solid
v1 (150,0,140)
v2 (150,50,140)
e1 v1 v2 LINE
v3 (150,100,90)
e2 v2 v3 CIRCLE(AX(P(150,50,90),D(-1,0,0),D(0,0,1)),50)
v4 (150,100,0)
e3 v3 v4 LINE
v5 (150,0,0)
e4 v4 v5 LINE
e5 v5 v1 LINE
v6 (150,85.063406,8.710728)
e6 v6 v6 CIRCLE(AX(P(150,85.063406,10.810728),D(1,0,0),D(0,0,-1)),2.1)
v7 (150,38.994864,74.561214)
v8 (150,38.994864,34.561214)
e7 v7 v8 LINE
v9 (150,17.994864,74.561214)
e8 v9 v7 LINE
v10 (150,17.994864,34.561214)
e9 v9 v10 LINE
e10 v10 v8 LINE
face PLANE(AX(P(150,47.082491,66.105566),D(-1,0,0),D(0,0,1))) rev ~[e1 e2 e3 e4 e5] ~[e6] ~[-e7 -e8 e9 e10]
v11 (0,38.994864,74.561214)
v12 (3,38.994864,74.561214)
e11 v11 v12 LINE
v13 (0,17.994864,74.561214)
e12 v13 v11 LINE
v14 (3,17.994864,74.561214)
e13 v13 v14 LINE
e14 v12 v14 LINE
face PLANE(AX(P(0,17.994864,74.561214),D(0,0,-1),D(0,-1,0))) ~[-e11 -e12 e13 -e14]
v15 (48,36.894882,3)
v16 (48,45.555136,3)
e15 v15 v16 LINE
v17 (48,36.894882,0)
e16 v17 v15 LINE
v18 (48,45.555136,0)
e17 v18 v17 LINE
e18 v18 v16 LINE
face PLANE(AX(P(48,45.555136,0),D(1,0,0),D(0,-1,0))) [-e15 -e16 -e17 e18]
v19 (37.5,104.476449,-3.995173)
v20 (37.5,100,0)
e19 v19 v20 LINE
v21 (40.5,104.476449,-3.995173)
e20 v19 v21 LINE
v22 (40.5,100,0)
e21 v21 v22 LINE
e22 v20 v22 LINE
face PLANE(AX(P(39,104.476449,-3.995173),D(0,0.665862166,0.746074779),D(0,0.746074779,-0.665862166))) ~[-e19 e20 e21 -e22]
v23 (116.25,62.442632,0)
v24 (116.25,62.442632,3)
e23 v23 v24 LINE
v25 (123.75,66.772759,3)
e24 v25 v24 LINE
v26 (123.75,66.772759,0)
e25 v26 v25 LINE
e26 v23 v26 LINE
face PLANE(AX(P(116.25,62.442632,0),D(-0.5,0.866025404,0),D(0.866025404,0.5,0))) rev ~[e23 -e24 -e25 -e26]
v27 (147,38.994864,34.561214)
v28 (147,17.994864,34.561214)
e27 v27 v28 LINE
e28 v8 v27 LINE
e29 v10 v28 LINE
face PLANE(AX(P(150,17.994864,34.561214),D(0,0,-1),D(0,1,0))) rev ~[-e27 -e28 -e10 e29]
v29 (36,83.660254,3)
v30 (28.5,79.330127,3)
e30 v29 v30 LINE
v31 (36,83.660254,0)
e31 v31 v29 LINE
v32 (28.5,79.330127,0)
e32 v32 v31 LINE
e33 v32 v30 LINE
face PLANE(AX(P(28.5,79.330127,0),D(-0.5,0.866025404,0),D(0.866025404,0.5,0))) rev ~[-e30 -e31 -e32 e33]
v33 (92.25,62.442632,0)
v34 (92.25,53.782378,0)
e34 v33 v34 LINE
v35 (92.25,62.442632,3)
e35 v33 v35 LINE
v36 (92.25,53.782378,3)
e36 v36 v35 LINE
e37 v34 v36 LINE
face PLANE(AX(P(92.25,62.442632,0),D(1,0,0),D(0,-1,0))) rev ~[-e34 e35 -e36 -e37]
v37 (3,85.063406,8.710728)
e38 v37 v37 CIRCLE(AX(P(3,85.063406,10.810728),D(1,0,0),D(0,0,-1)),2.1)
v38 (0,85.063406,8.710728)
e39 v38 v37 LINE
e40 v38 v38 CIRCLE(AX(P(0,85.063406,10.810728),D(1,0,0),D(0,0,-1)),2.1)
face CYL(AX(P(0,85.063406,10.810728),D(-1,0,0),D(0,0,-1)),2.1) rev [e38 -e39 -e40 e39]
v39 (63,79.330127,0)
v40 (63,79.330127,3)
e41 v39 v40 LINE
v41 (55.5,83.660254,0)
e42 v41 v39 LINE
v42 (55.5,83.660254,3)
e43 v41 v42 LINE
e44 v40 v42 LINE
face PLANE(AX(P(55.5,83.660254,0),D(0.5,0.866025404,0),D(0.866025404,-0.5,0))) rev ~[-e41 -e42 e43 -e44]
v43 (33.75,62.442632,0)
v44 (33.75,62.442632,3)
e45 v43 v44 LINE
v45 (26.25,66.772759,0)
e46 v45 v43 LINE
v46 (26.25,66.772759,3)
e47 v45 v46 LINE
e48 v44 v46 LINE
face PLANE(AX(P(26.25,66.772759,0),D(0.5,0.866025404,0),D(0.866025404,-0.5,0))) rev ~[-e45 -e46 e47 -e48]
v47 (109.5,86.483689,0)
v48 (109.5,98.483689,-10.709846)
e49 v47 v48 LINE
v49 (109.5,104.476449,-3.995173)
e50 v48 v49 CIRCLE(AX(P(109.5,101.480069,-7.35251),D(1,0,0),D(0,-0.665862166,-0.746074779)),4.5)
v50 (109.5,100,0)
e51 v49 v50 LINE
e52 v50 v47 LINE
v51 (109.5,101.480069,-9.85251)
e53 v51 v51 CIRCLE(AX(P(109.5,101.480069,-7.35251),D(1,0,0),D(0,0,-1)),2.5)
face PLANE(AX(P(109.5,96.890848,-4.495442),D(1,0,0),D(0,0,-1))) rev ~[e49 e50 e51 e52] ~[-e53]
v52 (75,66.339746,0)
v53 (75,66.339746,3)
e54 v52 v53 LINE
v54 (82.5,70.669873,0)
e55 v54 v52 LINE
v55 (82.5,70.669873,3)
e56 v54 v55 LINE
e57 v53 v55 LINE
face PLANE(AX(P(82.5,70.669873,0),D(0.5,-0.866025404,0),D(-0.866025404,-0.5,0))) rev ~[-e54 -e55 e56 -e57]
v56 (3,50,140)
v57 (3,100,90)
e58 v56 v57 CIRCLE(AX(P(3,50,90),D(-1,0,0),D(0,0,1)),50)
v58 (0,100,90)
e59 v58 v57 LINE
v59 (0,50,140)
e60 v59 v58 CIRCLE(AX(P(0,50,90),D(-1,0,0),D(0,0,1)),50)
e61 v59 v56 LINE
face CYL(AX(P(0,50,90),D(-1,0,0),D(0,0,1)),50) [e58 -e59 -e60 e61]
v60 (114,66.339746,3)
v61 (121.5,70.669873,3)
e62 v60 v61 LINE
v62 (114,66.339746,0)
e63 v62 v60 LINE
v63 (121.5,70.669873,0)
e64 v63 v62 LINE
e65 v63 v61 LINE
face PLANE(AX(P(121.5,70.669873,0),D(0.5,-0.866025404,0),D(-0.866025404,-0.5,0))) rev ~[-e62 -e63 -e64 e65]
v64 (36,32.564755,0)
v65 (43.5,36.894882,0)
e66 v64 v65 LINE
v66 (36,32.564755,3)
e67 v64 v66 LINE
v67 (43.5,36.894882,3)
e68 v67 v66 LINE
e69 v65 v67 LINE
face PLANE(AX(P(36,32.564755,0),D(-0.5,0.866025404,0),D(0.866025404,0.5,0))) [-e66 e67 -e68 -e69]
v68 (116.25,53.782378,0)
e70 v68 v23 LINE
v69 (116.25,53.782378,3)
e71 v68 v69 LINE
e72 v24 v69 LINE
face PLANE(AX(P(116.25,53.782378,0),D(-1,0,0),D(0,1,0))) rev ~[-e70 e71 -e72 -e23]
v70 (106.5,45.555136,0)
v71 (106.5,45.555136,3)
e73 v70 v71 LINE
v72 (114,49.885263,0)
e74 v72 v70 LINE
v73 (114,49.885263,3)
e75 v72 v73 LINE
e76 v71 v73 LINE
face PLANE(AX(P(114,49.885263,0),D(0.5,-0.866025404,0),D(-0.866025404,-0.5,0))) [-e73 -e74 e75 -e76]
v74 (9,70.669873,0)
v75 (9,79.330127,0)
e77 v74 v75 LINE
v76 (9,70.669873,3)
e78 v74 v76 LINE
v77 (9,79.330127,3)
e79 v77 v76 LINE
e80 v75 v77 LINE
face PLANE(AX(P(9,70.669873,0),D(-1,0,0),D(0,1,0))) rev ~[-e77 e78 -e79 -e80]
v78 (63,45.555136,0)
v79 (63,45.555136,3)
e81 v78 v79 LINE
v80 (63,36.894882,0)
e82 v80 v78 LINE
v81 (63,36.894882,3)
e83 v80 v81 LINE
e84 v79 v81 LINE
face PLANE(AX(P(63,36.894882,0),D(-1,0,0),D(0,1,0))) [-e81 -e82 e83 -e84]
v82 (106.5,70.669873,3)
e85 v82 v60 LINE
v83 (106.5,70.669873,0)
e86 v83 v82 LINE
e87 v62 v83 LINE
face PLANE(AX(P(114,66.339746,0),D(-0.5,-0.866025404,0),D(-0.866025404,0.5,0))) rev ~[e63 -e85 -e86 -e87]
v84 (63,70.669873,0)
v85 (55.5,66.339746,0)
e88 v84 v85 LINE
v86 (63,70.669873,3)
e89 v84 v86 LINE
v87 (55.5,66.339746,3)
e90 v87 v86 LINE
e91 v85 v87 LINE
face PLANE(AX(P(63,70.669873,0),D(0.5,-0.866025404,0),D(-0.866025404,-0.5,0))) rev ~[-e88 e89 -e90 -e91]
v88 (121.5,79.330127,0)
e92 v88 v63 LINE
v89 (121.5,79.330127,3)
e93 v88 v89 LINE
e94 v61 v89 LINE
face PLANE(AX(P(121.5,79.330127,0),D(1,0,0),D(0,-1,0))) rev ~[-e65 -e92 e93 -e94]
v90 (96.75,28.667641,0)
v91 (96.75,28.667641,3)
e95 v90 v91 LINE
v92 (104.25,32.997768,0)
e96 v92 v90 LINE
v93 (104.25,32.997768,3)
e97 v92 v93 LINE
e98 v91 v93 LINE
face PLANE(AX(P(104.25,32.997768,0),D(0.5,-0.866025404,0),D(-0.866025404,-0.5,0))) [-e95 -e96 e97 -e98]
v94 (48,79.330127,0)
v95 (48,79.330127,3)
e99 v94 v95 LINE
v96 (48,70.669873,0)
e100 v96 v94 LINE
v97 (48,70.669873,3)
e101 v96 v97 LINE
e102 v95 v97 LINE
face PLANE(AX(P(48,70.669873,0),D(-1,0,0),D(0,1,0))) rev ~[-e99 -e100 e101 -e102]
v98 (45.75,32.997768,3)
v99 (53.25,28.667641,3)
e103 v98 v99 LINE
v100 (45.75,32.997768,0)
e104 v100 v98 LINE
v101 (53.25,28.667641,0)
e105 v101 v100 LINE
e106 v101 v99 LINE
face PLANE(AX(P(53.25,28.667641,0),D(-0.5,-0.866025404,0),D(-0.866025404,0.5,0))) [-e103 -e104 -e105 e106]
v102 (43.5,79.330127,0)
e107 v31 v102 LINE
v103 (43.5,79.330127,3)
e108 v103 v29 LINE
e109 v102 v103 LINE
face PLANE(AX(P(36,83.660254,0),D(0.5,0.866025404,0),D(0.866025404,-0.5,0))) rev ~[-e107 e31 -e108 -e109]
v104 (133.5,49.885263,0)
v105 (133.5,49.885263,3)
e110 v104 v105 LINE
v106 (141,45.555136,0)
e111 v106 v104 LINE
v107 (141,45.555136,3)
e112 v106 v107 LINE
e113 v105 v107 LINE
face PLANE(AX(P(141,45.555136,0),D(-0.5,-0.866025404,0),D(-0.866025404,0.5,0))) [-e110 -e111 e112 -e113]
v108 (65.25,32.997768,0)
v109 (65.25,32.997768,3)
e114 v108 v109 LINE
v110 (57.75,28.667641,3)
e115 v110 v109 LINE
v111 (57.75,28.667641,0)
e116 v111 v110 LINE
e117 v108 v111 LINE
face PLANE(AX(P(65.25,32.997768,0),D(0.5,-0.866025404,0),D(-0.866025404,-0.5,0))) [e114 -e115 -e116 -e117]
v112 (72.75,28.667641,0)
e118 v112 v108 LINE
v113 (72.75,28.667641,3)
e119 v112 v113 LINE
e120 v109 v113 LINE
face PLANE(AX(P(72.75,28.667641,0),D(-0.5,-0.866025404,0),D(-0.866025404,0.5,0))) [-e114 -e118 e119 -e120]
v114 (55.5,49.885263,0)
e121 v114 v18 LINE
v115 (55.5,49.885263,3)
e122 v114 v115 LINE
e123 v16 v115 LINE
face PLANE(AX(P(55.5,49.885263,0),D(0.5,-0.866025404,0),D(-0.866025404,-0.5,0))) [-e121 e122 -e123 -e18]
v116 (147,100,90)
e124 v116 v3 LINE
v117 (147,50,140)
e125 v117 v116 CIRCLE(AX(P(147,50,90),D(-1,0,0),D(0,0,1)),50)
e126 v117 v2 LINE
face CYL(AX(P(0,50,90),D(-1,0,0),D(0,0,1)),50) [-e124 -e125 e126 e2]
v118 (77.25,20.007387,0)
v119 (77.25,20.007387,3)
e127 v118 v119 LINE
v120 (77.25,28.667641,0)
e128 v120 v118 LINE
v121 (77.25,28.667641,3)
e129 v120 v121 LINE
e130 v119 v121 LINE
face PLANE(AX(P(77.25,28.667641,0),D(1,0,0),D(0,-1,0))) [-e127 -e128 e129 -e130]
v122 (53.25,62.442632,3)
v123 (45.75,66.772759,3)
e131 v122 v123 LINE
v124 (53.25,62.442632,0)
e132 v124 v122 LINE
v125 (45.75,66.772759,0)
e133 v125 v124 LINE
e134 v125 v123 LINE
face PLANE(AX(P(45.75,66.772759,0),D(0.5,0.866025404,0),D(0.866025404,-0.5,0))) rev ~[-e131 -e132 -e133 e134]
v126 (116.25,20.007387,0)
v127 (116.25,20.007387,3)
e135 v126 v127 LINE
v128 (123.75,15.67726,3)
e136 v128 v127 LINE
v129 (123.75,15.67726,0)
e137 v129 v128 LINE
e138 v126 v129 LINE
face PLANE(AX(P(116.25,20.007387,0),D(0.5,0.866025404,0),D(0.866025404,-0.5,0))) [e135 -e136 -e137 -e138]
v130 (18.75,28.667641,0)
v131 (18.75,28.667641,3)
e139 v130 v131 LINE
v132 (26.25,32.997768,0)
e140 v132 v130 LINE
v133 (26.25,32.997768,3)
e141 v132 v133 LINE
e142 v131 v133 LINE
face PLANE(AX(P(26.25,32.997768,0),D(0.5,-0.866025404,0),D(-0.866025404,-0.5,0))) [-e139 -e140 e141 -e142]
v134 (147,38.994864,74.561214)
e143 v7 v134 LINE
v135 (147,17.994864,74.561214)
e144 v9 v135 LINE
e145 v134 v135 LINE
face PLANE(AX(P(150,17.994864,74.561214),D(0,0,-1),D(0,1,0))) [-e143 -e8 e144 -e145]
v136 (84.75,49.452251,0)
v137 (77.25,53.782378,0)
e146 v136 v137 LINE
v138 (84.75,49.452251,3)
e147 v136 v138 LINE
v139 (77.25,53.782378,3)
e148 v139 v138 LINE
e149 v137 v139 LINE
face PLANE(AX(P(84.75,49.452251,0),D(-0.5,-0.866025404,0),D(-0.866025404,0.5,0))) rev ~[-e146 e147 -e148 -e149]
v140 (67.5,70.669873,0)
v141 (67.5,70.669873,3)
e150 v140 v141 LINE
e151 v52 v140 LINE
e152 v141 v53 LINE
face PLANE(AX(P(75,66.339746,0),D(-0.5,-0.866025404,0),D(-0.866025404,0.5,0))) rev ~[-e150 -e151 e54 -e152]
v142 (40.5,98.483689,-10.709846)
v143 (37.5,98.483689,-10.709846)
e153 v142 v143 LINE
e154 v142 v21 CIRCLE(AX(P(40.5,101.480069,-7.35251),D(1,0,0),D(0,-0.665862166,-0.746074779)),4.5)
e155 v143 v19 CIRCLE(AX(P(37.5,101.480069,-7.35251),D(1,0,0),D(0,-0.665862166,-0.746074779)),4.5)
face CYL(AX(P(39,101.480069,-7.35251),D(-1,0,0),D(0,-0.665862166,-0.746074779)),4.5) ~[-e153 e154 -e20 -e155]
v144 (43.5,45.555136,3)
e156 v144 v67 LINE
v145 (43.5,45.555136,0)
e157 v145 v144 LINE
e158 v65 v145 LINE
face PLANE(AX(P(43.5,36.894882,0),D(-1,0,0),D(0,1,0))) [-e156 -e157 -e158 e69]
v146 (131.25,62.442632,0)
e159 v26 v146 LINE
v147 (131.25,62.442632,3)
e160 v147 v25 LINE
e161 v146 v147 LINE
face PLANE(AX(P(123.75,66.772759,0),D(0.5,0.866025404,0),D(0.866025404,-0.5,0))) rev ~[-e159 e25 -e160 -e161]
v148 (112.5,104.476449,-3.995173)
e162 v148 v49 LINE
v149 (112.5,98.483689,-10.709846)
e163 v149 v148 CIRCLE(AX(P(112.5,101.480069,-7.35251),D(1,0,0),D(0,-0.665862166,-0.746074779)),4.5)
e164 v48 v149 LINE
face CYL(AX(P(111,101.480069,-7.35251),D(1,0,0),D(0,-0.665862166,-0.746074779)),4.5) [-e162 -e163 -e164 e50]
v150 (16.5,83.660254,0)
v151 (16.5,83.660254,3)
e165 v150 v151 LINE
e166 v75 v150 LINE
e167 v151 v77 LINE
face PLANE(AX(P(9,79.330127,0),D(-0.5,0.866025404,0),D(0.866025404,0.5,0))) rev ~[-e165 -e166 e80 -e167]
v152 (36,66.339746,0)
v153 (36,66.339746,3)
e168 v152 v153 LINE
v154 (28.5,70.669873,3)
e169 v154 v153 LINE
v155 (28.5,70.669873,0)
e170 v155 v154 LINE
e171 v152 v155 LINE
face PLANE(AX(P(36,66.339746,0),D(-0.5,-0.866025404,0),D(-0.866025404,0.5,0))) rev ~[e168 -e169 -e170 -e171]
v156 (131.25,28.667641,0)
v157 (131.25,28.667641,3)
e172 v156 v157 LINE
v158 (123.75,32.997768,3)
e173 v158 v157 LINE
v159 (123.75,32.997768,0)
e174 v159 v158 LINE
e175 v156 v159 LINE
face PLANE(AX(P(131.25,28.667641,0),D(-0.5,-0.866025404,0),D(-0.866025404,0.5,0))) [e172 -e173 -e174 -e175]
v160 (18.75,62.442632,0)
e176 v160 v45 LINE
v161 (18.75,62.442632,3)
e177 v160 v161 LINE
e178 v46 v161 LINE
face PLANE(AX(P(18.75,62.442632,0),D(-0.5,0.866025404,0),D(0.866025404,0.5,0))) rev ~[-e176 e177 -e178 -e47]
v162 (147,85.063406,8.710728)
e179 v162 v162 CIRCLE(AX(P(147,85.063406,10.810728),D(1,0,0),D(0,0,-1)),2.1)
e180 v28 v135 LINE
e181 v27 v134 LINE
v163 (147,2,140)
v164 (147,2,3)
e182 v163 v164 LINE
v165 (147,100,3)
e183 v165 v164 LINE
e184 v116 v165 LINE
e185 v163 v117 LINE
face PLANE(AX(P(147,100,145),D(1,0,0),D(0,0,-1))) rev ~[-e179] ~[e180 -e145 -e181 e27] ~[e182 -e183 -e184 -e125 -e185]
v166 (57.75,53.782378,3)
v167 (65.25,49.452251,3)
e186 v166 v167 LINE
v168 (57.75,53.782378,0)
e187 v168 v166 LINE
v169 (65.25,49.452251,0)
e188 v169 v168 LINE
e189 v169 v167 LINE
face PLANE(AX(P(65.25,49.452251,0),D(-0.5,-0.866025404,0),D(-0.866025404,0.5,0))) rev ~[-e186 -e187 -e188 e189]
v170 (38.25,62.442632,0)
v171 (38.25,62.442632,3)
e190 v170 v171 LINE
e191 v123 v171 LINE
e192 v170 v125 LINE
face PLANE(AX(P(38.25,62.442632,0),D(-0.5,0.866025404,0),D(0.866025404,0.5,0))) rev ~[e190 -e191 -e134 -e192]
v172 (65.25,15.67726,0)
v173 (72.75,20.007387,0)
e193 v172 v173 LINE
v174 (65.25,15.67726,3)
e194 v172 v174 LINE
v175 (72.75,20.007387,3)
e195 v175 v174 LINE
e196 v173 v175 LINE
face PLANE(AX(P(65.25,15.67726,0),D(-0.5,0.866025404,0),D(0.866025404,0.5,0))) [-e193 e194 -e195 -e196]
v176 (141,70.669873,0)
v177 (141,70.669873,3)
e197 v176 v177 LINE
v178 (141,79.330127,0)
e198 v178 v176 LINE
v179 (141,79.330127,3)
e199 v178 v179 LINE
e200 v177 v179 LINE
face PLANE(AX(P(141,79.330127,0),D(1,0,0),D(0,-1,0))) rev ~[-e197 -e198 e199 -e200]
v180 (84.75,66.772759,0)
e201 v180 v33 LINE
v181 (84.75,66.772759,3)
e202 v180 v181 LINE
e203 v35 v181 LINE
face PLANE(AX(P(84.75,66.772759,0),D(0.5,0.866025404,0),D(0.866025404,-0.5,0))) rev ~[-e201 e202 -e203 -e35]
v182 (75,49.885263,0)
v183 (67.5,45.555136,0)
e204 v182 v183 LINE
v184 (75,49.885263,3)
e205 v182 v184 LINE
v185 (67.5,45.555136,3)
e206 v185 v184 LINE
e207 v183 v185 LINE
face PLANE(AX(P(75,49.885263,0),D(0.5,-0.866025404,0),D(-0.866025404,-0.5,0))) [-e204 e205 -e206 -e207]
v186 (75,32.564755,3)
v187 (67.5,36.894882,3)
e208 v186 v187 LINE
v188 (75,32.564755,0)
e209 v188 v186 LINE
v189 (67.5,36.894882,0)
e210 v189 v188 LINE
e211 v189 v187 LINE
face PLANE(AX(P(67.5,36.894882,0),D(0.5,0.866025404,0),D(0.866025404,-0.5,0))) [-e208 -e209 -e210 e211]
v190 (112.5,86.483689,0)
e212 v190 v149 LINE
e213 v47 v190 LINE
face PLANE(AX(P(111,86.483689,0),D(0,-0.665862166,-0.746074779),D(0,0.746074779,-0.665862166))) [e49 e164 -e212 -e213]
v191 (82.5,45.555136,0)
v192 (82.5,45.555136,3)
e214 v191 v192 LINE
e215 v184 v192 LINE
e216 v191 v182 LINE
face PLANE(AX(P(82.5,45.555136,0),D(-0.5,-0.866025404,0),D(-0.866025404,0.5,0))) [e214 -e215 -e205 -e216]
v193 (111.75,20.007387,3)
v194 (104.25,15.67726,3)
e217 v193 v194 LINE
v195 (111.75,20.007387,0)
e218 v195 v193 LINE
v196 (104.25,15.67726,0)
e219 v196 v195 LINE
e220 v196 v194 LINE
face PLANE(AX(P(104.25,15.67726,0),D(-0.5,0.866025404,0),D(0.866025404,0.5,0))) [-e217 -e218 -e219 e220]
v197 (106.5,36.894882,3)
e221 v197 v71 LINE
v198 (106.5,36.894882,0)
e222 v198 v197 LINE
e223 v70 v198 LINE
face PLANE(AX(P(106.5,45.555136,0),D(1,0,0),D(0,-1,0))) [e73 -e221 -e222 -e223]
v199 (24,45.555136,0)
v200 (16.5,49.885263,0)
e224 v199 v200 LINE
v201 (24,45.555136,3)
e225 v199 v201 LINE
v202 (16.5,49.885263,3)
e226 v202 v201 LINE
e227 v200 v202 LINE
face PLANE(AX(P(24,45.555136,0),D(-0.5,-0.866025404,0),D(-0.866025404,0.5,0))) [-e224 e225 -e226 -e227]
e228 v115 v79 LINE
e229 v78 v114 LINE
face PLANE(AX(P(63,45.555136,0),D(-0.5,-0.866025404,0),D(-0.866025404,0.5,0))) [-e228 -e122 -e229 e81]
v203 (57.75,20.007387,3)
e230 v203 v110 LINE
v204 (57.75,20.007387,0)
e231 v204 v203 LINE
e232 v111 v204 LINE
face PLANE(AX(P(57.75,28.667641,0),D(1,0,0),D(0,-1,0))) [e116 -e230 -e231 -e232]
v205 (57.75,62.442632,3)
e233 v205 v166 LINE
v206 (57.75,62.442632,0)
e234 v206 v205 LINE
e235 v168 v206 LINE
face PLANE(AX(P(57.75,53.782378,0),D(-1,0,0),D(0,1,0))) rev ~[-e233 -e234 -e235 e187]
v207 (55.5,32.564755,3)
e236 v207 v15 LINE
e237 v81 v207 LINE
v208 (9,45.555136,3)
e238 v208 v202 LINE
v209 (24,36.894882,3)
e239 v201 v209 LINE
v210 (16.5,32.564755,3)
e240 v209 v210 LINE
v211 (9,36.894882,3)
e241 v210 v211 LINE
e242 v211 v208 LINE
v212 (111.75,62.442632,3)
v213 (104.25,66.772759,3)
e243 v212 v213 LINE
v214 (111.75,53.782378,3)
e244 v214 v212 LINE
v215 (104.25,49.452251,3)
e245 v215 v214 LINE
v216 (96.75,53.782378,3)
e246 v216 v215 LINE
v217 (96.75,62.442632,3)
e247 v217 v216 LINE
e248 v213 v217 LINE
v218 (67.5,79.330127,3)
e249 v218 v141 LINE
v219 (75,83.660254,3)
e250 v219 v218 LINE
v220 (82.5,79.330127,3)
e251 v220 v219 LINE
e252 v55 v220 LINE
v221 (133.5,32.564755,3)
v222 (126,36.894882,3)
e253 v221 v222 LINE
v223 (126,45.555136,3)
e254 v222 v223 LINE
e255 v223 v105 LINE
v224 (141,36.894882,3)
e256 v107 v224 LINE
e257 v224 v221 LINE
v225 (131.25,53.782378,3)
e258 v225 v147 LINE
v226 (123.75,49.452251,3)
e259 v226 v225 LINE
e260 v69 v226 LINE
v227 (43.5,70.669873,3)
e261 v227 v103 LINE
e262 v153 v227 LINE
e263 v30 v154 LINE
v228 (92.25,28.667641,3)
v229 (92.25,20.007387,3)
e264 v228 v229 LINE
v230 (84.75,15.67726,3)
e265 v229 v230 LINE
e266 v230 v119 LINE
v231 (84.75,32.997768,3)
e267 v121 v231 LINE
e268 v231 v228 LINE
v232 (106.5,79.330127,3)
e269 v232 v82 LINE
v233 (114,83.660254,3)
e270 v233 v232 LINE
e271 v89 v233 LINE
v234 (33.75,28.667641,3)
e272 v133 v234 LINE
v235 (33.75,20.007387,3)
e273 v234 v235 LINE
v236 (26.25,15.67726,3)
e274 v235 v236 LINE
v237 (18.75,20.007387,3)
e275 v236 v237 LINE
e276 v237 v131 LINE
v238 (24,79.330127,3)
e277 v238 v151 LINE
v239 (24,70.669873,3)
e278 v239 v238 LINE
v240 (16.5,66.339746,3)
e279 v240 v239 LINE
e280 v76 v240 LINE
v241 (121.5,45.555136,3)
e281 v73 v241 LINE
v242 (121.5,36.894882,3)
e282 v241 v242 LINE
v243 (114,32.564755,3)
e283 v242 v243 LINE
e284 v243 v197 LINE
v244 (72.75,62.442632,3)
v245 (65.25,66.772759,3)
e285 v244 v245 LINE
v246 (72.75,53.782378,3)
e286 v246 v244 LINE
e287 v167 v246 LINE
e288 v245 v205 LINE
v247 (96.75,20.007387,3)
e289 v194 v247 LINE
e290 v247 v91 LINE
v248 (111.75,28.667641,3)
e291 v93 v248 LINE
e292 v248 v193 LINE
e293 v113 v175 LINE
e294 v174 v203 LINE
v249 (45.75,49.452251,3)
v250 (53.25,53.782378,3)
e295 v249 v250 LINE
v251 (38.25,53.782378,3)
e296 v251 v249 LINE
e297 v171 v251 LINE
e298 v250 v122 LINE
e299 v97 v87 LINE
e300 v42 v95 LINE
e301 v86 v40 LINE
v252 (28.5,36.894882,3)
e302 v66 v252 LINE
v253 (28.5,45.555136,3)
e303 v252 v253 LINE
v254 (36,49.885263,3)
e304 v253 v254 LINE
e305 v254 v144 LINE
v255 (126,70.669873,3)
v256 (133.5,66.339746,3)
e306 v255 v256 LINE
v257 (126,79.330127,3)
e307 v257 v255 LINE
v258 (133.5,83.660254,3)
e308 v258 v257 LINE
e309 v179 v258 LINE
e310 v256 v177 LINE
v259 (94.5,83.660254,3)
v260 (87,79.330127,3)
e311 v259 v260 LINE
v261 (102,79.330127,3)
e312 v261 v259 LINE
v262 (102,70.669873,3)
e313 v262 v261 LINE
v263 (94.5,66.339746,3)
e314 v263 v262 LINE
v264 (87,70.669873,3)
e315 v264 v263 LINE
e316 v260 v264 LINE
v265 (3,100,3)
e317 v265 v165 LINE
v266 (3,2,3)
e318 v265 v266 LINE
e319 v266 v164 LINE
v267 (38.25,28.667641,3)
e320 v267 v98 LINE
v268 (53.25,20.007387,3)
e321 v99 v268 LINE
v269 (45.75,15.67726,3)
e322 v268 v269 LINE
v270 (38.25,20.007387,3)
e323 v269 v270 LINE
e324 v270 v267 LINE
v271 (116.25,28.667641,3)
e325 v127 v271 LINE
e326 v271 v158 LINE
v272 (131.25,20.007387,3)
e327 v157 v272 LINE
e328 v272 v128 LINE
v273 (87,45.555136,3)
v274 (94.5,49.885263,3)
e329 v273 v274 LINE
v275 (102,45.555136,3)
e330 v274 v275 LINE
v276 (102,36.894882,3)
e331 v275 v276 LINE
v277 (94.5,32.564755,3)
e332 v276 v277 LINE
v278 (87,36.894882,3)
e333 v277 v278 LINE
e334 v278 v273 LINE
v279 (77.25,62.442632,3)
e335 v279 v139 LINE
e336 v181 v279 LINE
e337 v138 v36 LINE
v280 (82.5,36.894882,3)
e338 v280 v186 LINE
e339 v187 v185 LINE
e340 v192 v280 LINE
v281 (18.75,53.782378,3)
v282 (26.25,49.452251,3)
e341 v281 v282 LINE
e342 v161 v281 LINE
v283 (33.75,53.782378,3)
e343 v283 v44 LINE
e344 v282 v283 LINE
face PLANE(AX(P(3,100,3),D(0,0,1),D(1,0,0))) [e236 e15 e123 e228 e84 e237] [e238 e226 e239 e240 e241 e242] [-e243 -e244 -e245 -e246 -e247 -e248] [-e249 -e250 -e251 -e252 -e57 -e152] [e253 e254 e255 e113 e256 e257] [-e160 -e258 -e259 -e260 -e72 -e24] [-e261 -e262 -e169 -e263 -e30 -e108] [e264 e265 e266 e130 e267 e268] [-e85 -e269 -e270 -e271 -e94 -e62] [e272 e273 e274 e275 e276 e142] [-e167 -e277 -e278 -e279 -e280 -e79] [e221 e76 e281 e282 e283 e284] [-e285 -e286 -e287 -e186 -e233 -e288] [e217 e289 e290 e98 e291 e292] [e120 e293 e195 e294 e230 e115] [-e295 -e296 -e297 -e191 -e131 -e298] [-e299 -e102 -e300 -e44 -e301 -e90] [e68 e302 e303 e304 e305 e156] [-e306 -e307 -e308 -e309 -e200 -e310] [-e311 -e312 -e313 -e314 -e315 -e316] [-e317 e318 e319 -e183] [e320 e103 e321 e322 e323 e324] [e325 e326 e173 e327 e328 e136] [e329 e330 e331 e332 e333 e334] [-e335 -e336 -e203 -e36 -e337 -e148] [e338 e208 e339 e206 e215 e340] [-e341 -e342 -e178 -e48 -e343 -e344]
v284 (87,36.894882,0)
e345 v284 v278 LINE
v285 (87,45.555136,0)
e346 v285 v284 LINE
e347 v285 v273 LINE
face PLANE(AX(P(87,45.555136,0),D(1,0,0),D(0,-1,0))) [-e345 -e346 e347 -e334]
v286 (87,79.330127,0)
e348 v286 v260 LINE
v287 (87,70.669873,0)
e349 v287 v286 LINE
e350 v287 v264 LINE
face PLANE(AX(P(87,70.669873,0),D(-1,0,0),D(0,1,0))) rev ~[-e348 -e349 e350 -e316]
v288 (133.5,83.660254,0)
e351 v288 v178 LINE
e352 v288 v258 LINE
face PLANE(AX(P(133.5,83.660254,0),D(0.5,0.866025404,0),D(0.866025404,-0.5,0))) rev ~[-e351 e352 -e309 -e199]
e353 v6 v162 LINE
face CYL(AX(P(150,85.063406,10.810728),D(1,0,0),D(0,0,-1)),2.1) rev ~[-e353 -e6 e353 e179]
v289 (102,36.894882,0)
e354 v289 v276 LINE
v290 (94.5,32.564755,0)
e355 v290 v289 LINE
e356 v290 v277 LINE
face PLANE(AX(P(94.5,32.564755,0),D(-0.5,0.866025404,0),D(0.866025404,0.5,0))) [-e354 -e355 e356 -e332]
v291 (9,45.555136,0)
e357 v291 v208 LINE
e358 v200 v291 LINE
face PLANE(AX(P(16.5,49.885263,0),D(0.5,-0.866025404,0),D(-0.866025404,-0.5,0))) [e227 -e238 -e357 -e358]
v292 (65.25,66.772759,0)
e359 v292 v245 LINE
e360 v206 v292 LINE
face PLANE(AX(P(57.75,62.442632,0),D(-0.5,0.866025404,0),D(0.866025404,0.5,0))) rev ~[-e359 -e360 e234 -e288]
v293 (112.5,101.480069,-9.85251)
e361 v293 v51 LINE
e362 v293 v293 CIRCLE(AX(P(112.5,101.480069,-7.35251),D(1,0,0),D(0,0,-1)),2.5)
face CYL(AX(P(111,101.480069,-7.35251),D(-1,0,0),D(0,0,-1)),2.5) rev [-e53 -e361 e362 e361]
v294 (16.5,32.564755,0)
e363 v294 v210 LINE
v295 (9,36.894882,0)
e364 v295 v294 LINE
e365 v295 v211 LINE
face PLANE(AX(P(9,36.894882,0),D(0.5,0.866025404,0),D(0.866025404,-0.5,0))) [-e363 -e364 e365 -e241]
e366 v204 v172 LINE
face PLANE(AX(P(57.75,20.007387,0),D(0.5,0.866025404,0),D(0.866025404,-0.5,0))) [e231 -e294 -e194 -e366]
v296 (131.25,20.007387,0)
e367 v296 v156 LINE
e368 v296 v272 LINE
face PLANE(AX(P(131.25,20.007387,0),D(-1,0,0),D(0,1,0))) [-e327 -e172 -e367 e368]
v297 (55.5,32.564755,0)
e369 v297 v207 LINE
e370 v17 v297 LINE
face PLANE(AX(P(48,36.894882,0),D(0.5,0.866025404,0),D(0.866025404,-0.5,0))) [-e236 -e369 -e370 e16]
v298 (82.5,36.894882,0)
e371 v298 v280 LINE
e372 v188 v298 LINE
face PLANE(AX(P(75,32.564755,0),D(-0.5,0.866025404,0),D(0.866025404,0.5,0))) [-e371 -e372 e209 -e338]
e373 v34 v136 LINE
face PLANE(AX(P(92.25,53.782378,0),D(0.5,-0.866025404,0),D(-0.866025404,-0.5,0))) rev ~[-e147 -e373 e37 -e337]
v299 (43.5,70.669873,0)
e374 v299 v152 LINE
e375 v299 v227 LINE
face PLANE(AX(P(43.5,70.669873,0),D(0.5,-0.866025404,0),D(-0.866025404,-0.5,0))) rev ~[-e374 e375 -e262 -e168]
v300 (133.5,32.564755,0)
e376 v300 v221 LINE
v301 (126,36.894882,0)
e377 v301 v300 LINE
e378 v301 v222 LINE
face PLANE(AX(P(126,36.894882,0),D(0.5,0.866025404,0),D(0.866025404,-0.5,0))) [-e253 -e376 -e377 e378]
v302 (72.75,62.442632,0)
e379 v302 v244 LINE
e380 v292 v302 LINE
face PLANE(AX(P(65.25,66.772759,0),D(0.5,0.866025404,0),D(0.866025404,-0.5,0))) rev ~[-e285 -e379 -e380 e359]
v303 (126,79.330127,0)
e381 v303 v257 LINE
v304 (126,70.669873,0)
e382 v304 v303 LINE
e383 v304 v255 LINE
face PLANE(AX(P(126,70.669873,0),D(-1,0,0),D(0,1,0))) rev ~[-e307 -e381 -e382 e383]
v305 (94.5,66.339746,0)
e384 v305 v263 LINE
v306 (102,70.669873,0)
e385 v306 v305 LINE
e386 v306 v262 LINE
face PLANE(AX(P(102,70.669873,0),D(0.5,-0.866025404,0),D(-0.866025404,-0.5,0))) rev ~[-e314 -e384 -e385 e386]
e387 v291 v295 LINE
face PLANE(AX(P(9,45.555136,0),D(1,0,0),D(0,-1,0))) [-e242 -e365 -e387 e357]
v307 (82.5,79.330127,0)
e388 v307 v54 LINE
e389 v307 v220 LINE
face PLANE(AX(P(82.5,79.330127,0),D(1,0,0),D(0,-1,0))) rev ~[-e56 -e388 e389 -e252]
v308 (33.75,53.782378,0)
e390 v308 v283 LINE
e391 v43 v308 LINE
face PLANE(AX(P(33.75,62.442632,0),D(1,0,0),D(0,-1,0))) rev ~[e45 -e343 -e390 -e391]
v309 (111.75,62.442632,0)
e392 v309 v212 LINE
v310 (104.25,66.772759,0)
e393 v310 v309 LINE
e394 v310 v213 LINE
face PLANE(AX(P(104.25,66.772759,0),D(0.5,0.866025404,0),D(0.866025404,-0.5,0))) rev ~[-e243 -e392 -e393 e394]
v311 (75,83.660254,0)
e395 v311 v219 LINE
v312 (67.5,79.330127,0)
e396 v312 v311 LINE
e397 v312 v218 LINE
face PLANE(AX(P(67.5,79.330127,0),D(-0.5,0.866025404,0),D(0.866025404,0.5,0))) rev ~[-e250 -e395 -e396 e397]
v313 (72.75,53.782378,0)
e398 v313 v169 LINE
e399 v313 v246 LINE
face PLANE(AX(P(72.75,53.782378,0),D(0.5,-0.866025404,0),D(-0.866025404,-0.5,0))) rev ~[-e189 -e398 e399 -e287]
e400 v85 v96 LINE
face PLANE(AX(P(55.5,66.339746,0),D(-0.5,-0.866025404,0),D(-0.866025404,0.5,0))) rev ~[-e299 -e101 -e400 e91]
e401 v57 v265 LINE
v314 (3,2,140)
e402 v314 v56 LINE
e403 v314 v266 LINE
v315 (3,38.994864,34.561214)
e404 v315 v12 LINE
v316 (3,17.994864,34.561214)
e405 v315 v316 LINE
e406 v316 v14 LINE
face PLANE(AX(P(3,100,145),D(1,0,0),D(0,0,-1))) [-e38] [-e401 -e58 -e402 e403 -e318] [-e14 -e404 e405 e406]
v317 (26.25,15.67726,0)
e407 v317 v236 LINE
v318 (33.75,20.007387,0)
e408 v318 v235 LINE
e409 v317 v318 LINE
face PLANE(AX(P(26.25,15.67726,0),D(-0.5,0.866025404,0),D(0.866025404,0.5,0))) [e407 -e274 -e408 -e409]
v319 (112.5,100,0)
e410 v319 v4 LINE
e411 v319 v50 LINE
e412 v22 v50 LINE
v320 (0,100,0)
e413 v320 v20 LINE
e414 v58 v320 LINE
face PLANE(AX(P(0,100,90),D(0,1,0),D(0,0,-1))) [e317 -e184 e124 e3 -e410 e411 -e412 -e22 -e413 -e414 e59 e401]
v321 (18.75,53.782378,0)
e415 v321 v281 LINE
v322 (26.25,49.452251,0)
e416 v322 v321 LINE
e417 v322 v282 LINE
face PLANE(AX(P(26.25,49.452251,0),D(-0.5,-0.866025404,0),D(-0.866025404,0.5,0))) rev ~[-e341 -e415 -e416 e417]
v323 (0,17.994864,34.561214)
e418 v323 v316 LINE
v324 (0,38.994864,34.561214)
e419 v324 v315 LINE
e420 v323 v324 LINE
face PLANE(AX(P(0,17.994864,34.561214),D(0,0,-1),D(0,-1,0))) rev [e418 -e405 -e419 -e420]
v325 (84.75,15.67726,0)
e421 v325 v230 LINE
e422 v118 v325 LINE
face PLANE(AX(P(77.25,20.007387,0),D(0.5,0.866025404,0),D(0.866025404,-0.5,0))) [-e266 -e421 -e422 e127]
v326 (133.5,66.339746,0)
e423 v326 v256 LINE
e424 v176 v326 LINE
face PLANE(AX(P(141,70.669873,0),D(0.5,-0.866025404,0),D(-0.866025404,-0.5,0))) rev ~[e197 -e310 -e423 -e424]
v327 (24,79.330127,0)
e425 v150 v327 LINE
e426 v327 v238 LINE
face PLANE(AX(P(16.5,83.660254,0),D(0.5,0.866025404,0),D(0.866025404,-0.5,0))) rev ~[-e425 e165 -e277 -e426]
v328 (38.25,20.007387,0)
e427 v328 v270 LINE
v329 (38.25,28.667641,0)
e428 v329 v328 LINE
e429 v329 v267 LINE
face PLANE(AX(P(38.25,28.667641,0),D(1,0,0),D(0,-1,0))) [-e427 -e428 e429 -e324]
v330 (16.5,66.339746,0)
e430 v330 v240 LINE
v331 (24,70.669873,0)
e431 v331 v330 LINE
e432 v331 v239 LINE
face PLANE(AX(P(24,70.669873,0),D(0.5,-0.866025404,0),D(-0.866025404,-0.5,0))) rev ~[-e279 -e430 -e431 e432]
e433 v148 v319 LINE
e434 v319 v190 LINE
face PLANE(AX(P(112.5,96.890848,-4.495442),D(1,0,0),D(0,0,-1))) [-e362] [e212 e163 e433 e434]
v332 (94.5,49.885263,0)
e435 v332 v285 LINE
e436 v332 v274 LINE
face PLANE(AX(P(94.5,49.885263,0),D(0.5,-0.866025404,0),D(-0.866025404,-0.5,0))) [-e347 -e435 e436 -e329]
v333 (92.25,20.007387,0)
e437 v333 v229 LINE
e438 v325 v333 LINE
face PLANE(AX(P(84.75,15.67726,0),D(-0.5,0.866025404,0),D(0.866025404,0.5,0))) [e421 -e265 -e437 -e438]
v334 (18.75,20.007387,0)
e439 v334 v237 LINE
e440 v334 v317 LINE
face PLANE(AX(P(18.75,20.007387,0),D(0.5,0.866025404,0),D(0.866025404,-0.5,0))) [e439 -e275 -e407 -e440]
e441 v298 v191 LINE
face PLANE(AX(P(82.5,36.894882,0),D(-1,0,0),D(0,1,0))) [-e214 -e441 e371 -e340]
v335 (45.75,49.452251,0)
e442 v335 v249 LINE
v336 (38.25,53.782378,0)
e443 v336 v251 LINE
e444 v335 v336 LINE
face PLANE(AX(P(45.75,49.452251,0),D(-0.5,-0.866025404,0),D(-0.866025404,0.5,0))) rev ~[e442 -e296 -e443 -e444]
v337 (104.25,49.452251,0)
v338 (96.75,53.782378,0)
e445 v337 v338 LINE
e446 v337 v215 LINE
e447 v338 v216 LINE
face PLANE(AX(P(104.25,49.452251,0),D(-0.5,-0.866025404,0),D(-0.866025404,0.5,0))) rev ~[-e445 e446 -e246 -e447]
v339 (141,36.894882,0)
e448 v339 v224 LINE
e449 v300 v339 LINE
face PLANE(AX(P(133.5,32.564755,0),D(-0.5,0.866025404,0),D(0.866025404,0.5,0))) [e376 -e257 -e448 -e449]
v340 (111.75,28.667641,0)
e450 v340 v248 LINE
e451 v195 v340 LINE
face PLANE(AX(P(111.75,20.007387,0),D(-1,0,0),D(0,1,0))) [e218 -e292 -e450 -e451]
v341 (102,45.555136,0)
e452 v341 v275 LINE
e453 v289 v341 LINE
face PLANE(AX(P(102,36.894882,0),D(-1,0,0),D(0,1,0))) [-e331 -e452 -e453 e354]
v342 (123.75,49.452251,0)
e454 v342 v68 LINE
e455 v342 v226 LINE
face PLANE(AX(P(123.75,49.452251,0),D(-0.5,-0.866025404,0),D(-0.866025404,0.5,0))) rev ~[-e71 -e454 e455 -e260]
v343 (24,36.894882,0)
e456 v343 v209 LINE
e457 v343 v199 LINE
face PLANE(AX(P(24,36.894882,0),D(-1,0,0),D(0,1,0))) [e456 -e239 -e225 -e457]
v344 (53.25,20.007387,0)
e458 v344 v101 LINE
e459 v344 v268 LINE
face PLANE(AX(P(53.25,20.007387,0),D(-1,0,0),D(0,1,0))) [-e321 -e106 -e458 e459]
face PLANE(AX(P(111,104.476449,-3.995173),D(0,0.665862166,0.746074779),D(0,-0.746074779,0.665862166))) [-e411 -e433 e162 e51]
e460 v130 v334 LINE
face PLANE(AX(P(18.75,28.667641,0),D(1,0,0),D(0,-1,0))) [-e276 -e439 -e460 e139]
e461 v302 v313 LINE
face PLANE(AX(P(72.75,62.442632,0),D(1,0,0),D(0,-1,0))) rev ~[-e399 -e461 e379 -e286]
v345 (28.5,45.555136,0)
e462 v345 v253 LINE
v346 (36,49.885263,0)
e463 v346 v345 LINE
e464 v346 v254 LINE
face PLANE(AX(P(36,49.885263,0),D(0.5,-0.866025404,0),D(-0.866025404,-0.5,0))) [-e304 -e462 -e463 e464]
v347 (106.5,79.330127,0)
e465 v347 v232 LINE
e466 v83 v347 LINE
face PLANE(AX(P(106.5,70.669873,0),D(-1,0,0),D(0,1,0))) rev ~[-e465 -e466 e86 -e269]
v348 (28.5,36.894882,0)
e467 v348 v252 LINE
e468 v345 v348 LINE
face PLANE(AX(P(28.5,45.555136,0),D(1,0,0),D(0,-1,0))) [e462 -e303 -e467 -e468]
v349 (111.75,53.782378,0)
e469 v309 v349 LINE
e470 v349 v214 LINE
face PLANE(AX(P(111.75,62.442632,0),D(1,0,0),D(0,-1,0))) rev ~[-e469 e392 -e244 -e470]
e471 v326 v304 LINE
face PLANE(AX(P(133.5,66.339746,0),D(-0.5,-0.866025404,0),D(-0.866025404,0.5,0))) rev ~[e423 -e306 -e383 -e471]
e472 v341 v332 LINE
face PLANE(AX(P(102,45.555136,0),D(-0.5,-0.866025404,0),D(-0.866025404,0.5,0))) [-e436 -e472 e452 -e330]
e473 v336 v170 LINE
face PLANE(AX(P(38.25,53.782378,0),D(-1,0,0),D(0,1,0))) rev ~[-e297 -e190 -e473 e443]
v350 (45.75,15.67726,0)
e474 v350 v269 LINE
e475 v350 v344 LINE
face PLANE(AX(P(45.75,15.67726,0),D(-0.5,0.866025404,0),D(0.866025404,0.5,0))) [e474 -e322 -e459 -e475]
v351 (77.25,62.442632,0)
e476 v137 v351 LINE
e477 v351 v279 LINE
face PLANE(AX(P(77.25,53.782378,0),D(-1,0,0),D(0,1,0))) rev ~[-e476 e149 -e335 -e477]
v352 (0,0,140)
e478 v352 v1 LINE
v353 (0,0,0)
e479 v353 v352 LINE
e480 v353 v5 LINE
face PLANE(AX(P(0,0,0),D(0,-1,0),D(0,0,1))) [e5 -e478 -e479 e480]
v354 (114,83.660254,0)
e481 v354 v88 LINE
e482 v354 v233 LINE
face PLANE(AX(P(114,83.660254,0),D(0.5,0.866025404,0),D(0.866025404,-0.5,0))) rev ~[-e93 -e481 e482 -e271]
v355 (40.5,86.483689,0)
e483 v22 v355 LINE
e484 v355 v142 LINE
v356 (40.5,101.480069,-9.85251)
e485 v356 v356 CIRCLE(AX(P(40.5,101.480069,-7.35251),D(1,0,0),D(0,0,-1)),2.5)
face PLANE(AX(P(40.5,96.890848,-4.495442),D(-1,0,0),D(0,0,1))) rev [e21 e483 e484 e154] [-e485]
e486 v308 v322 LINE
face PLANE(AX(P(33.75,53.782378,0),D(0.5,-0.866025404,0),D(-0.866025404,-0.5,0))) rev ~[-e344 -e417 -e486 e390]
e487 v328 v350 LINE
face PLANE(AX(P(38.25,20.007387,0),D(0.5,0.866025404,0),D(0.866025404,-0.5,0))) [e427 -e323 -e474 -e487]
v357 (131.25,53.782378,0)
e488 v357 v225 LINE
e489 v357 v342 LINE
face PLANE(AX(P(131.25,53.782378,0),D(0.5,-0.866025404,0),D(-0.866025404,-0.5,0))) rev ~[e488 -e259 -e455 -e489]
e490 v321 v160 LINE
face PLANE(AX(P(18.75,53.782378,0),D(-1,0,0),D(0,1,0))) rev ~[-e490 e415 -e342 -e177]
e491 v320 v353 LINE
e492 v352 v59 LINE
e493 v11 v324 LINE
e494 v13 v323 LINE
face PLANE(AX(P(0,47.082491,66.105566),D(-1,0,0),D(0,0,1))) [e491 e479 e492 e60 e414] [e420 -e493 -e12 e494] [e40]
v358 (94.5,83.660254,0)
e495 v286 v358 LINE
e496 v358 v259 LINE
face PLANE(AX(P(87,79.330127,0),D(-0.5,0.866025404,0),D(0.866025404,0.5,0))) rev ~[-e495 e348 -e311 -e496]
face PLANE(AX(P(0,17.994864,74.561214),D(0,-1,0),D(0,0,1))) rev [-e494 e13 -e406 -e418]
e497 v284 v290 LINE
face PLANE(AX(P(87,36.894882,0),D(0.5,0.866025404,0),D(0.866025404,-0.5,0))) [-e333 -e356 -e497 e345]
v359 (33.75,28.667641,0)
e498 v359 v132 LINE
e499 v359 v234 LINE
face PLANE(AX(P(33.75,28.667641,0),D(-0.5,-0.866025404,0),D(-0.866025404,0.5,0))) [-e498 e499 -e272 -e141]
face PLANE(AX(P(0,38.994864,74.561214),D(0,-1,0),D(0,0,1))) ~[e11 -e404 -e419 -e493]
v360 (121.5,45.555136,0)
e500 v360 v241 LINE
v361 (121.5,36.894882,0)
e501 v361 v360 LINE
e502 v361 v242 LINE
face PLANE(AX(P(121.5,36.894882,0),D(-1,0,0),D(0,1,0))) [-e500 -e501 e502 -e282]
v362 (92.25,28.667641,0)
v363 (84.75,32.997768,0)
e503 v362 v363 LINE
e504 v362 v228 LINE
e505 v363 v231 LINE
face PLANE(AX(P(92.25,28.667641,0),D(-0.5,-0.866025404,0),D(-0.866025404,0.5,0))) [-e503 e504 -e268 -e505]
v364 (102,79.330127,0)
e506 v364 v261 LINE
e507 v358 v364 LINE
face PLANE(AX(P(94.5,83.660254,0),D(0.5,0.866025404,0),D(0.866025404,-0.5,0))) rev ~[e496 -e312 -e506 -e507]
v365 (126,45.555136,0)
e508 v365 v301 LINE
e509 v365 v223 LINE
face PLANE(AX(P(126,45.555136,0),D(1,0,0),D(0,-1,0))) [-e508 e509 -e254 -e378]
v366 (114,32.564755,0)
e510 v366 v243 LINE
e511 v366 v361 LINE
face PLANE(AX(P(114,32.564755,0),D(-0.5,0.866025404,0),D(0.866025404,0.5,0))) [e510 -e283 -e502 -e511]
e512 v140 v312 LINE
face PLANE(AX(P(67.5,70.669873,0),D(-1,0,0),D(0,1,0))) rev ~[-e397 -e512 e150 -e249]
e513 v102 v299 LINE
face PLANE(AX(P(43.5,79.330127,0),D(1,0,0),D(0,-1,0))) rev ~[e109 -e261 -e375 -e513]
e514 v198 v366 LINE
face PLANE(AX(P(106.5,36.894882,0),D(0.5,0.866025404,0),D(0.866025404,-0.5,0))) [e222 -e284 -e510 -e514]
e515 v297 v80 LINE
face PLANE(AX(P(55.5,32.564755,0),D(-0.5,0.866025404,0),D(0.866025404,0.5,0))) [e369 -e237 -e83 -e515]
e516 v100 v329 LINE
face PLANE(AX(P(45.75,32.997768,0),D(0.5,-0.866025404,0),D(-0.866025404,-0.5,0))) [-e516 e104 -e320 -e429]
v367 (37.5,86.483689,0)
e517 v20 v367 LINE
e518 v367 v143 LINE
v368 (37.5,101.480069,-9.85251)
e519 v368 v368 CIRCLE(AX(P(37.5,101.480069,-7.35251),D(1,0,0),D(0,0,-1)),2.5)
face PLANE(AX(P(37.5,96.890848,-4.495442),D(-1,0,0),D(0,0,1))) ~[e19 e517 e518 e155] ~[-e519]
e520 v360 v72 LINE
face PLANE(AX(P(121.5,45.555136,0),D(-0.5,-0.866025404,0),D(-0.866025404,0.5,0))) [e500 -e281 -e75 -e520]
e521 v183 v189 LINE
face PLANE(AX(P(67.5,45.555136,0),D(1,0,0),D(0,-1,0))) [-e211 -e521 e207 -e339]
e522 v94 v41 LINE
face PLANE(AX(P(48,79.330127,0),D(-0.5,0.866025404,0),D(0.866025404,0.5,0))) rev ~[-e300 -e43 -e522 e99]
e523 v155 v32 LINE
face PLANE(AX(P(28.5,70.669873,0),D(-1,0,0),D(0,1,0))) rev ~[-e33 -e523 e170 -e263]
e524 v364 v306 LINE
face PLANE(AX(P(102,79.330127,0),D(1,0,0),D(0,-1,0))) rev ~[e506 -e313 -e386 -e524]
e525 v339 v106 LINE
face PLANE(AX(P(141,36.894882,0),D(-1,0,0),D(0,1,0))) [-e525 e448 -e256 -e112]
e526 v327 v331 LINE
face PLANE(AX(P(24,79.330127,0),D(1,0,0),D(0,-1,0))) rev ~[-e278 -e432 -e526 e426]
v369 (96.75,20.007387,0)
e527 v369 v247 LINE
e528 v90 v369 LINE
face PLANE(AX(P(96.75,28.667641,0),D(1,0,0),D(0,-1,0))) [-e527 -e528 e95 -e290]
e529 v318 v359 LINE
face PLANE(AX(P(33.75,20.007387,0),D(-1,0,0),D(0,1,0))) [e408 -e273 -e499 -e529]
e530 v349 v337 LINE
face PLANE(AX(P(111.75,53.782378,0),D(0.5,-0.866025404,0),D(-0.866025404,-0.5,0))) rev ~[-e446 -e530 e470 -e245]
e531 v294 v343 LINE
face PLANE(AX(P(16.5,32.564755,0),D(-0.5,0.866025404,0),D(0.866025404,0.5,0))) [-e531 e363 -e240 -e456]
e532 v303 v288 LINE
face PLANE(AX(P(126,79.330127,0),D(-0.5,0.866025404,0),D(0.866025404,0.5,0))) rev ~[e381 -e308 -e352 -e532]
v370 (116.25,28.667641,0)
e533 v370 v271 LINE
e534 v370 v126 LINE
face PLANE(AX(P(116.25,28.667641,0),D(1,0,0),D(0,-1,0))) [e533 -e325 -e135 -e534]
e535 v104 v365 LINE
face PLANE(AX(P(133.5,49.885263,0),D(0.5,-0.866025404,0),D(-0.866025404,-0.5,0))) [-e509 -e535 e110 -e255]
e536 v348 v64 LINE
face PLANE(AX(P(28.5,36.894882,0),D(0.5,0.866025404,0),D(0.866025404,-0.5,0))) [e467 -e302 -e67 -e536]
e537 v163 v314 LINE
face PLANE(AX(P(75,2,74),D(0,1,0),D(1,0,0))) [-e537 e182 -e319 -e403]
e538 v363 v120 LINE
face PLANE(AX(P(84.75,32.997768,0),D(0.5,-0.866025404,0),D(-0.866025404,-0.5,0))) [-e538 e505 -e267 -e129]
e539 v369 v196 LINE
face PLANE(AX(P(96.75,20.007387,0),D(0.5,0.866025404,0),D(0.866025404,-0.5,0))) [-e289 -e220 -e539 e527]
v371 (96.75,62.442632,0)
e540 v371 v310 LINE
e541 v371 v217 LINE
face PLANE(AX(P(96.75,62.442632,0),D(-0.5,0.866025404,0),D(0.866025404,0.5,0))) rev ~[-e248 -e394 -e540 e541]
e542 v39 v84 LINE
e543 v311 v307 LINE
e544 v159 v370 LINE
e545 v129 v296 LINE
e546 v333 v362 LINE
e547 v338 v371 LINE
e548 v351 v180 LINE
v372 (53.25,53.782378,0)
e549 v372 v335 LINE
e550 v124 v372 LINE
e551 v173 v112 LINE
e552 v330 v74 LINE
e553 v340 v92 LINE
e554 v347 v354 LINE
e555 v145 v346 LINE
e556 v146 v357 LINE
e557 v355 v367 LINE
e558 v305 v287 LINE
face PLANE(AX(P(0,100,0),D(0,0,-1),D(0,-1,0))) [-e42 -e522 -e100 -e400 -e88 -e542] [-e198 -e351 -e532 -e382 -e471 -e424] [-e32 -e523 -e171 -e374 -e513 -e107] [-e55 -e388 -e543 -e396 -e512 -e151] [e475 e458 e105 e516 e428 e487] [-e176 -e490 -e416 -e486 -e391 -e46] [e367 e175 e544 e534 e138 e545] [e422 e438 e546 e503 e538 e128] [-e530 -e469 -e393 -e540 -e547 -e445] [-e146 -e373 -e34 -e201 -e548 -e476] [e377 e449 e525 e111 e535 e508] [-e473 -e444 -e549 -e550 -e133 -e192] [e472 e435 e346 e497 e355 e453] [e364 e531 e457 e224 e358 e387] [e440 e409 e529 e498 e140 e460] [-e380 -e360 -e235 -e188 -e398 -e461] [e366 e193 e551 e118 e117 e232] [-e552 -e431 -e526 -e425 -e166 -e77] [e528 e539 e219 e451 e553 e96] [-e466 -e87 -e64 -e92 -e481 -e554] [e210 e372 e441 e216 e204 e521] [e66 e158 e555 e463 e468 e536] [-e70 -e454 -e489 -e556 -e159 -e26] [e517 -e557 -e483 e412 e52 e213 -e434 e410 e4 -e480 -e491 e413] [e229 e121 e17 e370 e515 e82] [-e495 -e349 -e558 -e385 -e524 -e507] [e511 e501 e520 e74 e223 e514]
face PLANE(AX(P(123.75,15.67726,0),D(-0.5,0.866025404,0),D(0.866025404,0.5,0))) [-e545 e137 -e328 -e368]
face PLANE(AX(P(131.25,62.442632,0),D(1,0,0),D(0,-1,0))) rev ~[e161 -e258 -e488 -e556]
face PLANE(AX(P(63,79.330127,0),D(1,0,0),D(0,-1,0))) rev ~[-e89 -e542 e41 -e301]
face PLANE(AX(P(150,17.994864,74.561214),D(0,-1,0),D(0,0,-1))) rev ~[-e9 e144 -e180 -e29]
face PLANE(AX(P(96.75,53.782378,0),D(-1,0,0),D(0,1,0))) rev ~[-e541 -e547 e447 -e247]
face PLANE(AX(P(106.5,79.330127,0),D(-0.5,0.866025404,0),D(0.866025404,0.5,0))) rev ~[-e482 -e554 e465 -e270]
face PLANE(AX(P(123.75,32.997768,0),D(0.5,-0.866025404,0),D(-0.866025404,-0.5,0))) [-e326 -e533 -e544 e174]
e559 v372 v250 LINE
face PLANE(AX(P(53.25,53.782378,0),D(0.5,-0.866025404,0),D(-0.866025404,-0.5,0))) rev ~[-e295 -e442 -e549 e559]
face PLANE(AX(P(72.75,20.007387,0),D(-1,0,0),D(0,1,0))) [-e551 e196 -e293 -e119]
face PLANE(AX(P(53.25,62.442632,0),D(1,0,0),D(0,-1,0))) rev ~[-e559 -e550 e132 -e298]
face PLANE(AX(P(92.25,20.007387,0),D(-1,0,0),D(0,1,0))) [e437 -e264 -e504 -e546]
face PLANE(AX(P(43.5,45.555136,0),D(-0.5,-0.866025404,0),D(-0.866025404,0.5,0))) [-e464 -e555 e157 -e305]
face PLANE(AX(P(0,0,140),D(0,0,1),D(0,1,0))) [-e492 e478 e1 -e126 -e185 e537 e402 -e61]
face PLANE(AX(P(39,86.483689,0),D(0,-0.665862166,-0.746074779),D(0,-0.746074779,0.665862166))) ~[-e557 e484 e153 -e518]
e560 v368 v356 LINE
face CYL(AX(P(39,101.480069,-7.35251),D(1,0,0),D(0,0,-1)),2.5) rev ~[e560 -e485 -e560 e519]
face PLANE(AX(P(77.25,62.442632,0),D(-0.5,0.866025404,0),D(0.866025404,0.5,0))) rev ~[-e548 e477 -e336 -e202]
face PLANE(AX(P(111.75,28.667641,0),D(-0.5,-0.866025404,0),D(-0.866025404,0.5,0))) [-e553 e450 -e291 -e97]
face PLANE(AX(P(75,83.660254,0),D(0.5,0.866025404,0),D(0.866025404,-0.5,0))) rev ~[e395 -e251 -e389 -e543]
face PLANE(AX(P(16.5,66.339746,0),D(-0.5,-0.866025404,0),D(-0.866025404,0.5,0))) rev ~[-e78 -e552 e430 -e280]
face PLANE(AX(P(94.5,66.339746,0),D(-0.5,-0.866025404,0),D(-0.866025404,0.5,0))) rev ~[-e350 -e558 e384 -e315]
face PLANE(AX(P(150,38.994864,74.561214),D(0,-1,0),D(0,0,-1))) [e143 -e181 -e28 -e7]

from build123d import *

# Parameters (mm, degrees)
BOSS_EXTRUDE1_DEPTH = 150
SKETCH2_W           = 144
SKETCH2_H           = 142
CUT_EXTRUDE1_DEPTH  = 98
SKETCH3_R           = 2.5
BOSS_EXTRUDE2_DEPTH = 1.5
CUT_EXTRUDE2_REACH  = 232.937
SKETCH4_R           = 2.1
SKETCH4_W           = 40
SKETCH4_H           = 21
CUT_EXTRUDE3_DEPTH  = 10


with BuildPart() as part:
    # Sketch1 → Boss-Extrude1 (new body)
    with BuildSketch(Plane(origin=(0, 0, 0), x_dir=(0, 0, -1), z_dir=(1, 0, 0))):
        with BuildLine():
            Line((0, 0), (-140, 0))
            Line((-140, 0), (-140, 50))
            ThreePointArc((-140, 50), (-125.355339059, 85.355339059), (-90, 100))
            Line((-90, 100), (0, 100))
            Line((0, 100), (0, 0))
        make_face()
    extrude(amount=BOSS_EXTRUDE1_DEPTH)

    # Sketch2 → Cut-Extrude1 (cut)
    with BuildSketch(Plane(origin=(0, 100, 0), x_dir=(1, 0, 0), z_dir=(0, 1, 0))):
        with Locations((75, -74)):
            Rectangle(SKETCH2_W, SKETCH2_H)
    extrude(amount=-CUT_EXTRUDE1_DEPTH, mode=Mode.SUBTRACT)

    # Sketch3 → Boss-Extrude2 (add, symmetric)
    with BuildSketch(Plane(origin=(111, 0, 0), x_dir=(0, 0, -1), z_dir=(1, 0, 0))):
        with BuildLine():
            Line((0, 100), (0, 86.483689179))
            Line((0, 86.483689179), (10.709846007, 98.483689179))
            ThreePointArc((10.709846007, 98.483689179), (10.348889249, 104.837405432), (3.995172996, 104.476448674))
            Line((3.995172996, 104.476448674), (0, 100))
        make_face()
        with Locations((7.352509502, 101.480068927)):
            Circle(SKETCH3_R, mode=Mode.SUBTRACT)
    boss_extrude2 = extrude(amount=BOSS_EXTRUDE2_DEPTH, both=True)

    # Mirror1: Boss-Extrude2 across plane
    add(boss_extrude2.mirror(Plane(origin=(75, 0, 0), x_dir=(0, 0, 1), z_dir=(1, 0, 0))))

    # Sketch4 → Cut-Extrude2 (cut, up to next)
    with BuildSketch(Plane(origin=(150, 0, 0), x_dir=(0, 0, -1), z_dir=(1, 0, 0)), mode=Mode.PRIVATE) as cut_extrude2_sk1:
        with Locations((-10.810728321, 85.063406284)):
            Circle(SKETCH4_R)
    cut_extrude2_tool1 = extrude(cut_extrude2_sk1.sketch, amount=-CUT_EXTRUDE2_REACH, mode=Mode.PRIVATE) & part.part
    # Sketch4 → Cut-Extrude2 (cut, up to next)
    with BuildSketch(Plane(origin=(150, 0, 0), x_dir=(0, 0, -1), z_dir=(1, 0, 0)), mode=Mode.PRIVATE) as cut_extrude2_sk2:
        with Locations((-54.561214212, 28.49486379)):
            Rectangle(SKETCH4_W, SKETCH4_H)
    cut_extrude2_tool2 = extrude(cut_extrude2_sk2.sketch, amount=-CUT_EXTRUDE2_REACH, mode=Mode.PRIVATE) & part.part
    cut_extrude2_1 = cut_extrude2_tool1.solids().sort_by_distance((150, 85.063406, 10.810728))[0]
    add(cut_extrude2_1, mode=Mode.SUBTRACT)
    cut_extrude2_2 = cut_extrude2_tool2.solids().sort_by_distance((150, 28.494864, 54.561214))[0]
    add(cut_extrude2_2, mode=Mode.SUBTRACT)
    cut_extrude2 = cut_extrude2_1 + cut_extrude2_2  # Cut-Extrude2 as one shape, for the pattern or mirror that repeats it

    # Mirror2: Cut-Extrude2 across plane
    add(cut_extrude2.mirror(Plane(origin=(75, 0, 0), x_dir=(0, 0, 1), z_dir=(1, 0, 0))), mode=Mode.SUBTRACT)

    # Sketch5 → Cut-Extrude3 (cut)
    with BuildSketch(Plane(origin=(0, 0, 0), x_dir=(-1, 0, 0), z_dir=(0, 0, -1))):
        Polygon((-114, 83.660254038), (-121.5, 79.330127019), (-121.5, 70.669872981), (-114, 66.339745962), (-106.5, 70.669872981), (-106.5, 79.330127019), align=None)
        Polygon((-133.5, 83.660254038), (-141, 79.330127019), (-141, 70.669872981), (-133.5, 66.339745962), (-126, 70.669872981), (-126, 79.330127019), align=None)
        Polygon((-94.5, 83.660254038), (-102, 79.330127019), (-102, 70.669872981), (-94.5, 66.339745962), (-87, 70.669872981), (-87, 79.330127019), align=None)
        Polygon((-75, 83.660254038), (-82.5, 79.330127019), (-82.5, 70.669872981), (-75, 66.339745962), (-67.5, 70.669872981), (-67.5, 79.330127019), align=None)
        Polygon((-55.5, 83.660254038), (-63, 79.330127019), (-63, 70.669872981), (-55.5, 66.339745962), (-48, 70.669872981), (-48, 79.330127019), align=None)
        Polygon((-36, 83.660254038), (-43.5, 79.330127019), (-43.5, 70.669872981), (-36, 66.339745962), (-28.5, 70.669872981), (-28.5, 79.330127019), align=None)
        Polygon((-16.5, 83.660254038), (-24, 79.330127019), (-24, 70.669872981), (-16.5, 66.339745962), (-9, 70.669872981), (-9, 79.330127019), align=None)
        Polygon((-123.75, 66.772758664), (-131.25, 62.442631645), (-131.25, 53.782377607), (-123.75, 49.452250588), (-116.25, 53.782377607), (-116.25, 62.442631645), align=None)
        Polygon((-104.25, 66.772758664), (-111.75, 62.442631645), (-111.75, 53.782377607), (-104.25, 49.452250588), (-96.75, 53.782377607), (-96.75, 62.442631645), align=None)
        Polygon((-84.75, 66.772758664), (-92.25, 62.442631645), (-92.25, 53.782377607), (-84.75, 49.452250588), (-77.25, 53.782377607), (-77.25, 62.442631645), align=None)
        Polygon((-65.25, 66.772758664), (-72.75, 62.442631645), (-72.75, 53.782377607), (-65.25, 49.452250588), (-57.75, 53.782377607), (-57.75, 62.442631645), align=None)
        Polygon((-45.75, 66.772758664), (-53.25, 62.442631645), (-53.25, 53.782377607), (-45.75, 49.452250588), (-38.25, 53.782377607), (-38.25, 62.442631645), align=None)
        Polygon((-26.25, 66.772758664), (-33.75, 62.442631645), (-33.75, 53.782377607), (-26.25, 49.452250588), (-18.75, 53.782377607), (-18.75, 62.442631645), align=None)
        Polygon((-9, 36.894882233), (-16.5, 32.564755215), (-24, 36.894882233), (-24, 45.555136271), (-16.5, 49.88526329), (-9, 45.555136271), align=None)
        Polygon((-28.5, 36.894882233), (-36, 32.564755215), (-43.5, 36.894882233), (-43.5, 45.555136271), (-36, 49.88526329), (-28.5, 45.555136271), align=None)
        Polygon((-48, 36.894882233), (-55.5, 32.564755215), (-63, 36.894882233), (-63, 45.555136271), (-55.5, 49.88526329), (-48, 45.555136271), align=None)
        Polygon((-67.5, 36.894882233), (-75, 32.564755215), (-82.5, 36.894882233), (-82.5, 45.555136271), (-75, 49.88526329), (-67.5, 45.555136271), align=None)
        Polygon((-87, 36.894882233), (-94.5, 32.564755215), (-102, 36.894882233), (-102, 45.555136271), (-94.5, 49.88526329), (-87, 45.555136271), align=None)
        Polygon((-106.5, 36.894882233), (-114, 32.564755215), (-121.5, 36.894882233), (-121.5, 45.555136271), (-114, 49.88526329), (-106.5, 45.555136271), align=None)
        Polygon((-126, 36.894882233), (-133.5, 32.564755215), (-141, 36.894882233), (-141, 45.555136271), (-133.5, 49.88526329), (-126, 45.555136271), align=None)
        Polygon((-18.75, 20.00738686), (-26.25, 15.677259841), (-33.75, 20.00738686), (-33.75, 28.667640898), (-26.25, 32.997767916), (-18.75, 28.667640898), align=None)
        Polygon((-38.25, 20.00738686), (-45.75, 15.677259841), (-53.25, 20.00738686), (-53.25, 28.667640898), (-45.75, 32.997767916), (-38.25, 28.667640898), align=None)
        Polygon((-57.75, 20.00738686), (-65.25, 15.677259841), (-72.75, 20.00738686), (-72.75, 28.667640898), (-65.25, 32.997767916), (-57.75, 28.667640898), align=None)
        Polygon((-77.25, 20.00738686), (-84.75, 15.677259841), (-92.25, 20.00738686), (-92.25, 28.667640898), (-84.75, 32.997767916), (-77.25, 28.667640898), align=None)
        Polygon((-96.75, 20.00738686), (-104.25, 15.677259841), (-111.75, 20.00738686), (-111.75, 28.667640898), (-104.25, 32.997767916), (-96.75, 28.667640898), align=None)
        Polygon((-116.25, 20.00738686), (-123.75, 15.677259841), (-131.25, 20.00738686), (-131.25, 28.667640898), (-123.75, 32.997767916), (-116.25, 28.667640898), align=None)
    extrude(amount=-CUT_EXTRUDE3_DEPTH, mode=Mode.SUBTRACT)


solid = part.part
